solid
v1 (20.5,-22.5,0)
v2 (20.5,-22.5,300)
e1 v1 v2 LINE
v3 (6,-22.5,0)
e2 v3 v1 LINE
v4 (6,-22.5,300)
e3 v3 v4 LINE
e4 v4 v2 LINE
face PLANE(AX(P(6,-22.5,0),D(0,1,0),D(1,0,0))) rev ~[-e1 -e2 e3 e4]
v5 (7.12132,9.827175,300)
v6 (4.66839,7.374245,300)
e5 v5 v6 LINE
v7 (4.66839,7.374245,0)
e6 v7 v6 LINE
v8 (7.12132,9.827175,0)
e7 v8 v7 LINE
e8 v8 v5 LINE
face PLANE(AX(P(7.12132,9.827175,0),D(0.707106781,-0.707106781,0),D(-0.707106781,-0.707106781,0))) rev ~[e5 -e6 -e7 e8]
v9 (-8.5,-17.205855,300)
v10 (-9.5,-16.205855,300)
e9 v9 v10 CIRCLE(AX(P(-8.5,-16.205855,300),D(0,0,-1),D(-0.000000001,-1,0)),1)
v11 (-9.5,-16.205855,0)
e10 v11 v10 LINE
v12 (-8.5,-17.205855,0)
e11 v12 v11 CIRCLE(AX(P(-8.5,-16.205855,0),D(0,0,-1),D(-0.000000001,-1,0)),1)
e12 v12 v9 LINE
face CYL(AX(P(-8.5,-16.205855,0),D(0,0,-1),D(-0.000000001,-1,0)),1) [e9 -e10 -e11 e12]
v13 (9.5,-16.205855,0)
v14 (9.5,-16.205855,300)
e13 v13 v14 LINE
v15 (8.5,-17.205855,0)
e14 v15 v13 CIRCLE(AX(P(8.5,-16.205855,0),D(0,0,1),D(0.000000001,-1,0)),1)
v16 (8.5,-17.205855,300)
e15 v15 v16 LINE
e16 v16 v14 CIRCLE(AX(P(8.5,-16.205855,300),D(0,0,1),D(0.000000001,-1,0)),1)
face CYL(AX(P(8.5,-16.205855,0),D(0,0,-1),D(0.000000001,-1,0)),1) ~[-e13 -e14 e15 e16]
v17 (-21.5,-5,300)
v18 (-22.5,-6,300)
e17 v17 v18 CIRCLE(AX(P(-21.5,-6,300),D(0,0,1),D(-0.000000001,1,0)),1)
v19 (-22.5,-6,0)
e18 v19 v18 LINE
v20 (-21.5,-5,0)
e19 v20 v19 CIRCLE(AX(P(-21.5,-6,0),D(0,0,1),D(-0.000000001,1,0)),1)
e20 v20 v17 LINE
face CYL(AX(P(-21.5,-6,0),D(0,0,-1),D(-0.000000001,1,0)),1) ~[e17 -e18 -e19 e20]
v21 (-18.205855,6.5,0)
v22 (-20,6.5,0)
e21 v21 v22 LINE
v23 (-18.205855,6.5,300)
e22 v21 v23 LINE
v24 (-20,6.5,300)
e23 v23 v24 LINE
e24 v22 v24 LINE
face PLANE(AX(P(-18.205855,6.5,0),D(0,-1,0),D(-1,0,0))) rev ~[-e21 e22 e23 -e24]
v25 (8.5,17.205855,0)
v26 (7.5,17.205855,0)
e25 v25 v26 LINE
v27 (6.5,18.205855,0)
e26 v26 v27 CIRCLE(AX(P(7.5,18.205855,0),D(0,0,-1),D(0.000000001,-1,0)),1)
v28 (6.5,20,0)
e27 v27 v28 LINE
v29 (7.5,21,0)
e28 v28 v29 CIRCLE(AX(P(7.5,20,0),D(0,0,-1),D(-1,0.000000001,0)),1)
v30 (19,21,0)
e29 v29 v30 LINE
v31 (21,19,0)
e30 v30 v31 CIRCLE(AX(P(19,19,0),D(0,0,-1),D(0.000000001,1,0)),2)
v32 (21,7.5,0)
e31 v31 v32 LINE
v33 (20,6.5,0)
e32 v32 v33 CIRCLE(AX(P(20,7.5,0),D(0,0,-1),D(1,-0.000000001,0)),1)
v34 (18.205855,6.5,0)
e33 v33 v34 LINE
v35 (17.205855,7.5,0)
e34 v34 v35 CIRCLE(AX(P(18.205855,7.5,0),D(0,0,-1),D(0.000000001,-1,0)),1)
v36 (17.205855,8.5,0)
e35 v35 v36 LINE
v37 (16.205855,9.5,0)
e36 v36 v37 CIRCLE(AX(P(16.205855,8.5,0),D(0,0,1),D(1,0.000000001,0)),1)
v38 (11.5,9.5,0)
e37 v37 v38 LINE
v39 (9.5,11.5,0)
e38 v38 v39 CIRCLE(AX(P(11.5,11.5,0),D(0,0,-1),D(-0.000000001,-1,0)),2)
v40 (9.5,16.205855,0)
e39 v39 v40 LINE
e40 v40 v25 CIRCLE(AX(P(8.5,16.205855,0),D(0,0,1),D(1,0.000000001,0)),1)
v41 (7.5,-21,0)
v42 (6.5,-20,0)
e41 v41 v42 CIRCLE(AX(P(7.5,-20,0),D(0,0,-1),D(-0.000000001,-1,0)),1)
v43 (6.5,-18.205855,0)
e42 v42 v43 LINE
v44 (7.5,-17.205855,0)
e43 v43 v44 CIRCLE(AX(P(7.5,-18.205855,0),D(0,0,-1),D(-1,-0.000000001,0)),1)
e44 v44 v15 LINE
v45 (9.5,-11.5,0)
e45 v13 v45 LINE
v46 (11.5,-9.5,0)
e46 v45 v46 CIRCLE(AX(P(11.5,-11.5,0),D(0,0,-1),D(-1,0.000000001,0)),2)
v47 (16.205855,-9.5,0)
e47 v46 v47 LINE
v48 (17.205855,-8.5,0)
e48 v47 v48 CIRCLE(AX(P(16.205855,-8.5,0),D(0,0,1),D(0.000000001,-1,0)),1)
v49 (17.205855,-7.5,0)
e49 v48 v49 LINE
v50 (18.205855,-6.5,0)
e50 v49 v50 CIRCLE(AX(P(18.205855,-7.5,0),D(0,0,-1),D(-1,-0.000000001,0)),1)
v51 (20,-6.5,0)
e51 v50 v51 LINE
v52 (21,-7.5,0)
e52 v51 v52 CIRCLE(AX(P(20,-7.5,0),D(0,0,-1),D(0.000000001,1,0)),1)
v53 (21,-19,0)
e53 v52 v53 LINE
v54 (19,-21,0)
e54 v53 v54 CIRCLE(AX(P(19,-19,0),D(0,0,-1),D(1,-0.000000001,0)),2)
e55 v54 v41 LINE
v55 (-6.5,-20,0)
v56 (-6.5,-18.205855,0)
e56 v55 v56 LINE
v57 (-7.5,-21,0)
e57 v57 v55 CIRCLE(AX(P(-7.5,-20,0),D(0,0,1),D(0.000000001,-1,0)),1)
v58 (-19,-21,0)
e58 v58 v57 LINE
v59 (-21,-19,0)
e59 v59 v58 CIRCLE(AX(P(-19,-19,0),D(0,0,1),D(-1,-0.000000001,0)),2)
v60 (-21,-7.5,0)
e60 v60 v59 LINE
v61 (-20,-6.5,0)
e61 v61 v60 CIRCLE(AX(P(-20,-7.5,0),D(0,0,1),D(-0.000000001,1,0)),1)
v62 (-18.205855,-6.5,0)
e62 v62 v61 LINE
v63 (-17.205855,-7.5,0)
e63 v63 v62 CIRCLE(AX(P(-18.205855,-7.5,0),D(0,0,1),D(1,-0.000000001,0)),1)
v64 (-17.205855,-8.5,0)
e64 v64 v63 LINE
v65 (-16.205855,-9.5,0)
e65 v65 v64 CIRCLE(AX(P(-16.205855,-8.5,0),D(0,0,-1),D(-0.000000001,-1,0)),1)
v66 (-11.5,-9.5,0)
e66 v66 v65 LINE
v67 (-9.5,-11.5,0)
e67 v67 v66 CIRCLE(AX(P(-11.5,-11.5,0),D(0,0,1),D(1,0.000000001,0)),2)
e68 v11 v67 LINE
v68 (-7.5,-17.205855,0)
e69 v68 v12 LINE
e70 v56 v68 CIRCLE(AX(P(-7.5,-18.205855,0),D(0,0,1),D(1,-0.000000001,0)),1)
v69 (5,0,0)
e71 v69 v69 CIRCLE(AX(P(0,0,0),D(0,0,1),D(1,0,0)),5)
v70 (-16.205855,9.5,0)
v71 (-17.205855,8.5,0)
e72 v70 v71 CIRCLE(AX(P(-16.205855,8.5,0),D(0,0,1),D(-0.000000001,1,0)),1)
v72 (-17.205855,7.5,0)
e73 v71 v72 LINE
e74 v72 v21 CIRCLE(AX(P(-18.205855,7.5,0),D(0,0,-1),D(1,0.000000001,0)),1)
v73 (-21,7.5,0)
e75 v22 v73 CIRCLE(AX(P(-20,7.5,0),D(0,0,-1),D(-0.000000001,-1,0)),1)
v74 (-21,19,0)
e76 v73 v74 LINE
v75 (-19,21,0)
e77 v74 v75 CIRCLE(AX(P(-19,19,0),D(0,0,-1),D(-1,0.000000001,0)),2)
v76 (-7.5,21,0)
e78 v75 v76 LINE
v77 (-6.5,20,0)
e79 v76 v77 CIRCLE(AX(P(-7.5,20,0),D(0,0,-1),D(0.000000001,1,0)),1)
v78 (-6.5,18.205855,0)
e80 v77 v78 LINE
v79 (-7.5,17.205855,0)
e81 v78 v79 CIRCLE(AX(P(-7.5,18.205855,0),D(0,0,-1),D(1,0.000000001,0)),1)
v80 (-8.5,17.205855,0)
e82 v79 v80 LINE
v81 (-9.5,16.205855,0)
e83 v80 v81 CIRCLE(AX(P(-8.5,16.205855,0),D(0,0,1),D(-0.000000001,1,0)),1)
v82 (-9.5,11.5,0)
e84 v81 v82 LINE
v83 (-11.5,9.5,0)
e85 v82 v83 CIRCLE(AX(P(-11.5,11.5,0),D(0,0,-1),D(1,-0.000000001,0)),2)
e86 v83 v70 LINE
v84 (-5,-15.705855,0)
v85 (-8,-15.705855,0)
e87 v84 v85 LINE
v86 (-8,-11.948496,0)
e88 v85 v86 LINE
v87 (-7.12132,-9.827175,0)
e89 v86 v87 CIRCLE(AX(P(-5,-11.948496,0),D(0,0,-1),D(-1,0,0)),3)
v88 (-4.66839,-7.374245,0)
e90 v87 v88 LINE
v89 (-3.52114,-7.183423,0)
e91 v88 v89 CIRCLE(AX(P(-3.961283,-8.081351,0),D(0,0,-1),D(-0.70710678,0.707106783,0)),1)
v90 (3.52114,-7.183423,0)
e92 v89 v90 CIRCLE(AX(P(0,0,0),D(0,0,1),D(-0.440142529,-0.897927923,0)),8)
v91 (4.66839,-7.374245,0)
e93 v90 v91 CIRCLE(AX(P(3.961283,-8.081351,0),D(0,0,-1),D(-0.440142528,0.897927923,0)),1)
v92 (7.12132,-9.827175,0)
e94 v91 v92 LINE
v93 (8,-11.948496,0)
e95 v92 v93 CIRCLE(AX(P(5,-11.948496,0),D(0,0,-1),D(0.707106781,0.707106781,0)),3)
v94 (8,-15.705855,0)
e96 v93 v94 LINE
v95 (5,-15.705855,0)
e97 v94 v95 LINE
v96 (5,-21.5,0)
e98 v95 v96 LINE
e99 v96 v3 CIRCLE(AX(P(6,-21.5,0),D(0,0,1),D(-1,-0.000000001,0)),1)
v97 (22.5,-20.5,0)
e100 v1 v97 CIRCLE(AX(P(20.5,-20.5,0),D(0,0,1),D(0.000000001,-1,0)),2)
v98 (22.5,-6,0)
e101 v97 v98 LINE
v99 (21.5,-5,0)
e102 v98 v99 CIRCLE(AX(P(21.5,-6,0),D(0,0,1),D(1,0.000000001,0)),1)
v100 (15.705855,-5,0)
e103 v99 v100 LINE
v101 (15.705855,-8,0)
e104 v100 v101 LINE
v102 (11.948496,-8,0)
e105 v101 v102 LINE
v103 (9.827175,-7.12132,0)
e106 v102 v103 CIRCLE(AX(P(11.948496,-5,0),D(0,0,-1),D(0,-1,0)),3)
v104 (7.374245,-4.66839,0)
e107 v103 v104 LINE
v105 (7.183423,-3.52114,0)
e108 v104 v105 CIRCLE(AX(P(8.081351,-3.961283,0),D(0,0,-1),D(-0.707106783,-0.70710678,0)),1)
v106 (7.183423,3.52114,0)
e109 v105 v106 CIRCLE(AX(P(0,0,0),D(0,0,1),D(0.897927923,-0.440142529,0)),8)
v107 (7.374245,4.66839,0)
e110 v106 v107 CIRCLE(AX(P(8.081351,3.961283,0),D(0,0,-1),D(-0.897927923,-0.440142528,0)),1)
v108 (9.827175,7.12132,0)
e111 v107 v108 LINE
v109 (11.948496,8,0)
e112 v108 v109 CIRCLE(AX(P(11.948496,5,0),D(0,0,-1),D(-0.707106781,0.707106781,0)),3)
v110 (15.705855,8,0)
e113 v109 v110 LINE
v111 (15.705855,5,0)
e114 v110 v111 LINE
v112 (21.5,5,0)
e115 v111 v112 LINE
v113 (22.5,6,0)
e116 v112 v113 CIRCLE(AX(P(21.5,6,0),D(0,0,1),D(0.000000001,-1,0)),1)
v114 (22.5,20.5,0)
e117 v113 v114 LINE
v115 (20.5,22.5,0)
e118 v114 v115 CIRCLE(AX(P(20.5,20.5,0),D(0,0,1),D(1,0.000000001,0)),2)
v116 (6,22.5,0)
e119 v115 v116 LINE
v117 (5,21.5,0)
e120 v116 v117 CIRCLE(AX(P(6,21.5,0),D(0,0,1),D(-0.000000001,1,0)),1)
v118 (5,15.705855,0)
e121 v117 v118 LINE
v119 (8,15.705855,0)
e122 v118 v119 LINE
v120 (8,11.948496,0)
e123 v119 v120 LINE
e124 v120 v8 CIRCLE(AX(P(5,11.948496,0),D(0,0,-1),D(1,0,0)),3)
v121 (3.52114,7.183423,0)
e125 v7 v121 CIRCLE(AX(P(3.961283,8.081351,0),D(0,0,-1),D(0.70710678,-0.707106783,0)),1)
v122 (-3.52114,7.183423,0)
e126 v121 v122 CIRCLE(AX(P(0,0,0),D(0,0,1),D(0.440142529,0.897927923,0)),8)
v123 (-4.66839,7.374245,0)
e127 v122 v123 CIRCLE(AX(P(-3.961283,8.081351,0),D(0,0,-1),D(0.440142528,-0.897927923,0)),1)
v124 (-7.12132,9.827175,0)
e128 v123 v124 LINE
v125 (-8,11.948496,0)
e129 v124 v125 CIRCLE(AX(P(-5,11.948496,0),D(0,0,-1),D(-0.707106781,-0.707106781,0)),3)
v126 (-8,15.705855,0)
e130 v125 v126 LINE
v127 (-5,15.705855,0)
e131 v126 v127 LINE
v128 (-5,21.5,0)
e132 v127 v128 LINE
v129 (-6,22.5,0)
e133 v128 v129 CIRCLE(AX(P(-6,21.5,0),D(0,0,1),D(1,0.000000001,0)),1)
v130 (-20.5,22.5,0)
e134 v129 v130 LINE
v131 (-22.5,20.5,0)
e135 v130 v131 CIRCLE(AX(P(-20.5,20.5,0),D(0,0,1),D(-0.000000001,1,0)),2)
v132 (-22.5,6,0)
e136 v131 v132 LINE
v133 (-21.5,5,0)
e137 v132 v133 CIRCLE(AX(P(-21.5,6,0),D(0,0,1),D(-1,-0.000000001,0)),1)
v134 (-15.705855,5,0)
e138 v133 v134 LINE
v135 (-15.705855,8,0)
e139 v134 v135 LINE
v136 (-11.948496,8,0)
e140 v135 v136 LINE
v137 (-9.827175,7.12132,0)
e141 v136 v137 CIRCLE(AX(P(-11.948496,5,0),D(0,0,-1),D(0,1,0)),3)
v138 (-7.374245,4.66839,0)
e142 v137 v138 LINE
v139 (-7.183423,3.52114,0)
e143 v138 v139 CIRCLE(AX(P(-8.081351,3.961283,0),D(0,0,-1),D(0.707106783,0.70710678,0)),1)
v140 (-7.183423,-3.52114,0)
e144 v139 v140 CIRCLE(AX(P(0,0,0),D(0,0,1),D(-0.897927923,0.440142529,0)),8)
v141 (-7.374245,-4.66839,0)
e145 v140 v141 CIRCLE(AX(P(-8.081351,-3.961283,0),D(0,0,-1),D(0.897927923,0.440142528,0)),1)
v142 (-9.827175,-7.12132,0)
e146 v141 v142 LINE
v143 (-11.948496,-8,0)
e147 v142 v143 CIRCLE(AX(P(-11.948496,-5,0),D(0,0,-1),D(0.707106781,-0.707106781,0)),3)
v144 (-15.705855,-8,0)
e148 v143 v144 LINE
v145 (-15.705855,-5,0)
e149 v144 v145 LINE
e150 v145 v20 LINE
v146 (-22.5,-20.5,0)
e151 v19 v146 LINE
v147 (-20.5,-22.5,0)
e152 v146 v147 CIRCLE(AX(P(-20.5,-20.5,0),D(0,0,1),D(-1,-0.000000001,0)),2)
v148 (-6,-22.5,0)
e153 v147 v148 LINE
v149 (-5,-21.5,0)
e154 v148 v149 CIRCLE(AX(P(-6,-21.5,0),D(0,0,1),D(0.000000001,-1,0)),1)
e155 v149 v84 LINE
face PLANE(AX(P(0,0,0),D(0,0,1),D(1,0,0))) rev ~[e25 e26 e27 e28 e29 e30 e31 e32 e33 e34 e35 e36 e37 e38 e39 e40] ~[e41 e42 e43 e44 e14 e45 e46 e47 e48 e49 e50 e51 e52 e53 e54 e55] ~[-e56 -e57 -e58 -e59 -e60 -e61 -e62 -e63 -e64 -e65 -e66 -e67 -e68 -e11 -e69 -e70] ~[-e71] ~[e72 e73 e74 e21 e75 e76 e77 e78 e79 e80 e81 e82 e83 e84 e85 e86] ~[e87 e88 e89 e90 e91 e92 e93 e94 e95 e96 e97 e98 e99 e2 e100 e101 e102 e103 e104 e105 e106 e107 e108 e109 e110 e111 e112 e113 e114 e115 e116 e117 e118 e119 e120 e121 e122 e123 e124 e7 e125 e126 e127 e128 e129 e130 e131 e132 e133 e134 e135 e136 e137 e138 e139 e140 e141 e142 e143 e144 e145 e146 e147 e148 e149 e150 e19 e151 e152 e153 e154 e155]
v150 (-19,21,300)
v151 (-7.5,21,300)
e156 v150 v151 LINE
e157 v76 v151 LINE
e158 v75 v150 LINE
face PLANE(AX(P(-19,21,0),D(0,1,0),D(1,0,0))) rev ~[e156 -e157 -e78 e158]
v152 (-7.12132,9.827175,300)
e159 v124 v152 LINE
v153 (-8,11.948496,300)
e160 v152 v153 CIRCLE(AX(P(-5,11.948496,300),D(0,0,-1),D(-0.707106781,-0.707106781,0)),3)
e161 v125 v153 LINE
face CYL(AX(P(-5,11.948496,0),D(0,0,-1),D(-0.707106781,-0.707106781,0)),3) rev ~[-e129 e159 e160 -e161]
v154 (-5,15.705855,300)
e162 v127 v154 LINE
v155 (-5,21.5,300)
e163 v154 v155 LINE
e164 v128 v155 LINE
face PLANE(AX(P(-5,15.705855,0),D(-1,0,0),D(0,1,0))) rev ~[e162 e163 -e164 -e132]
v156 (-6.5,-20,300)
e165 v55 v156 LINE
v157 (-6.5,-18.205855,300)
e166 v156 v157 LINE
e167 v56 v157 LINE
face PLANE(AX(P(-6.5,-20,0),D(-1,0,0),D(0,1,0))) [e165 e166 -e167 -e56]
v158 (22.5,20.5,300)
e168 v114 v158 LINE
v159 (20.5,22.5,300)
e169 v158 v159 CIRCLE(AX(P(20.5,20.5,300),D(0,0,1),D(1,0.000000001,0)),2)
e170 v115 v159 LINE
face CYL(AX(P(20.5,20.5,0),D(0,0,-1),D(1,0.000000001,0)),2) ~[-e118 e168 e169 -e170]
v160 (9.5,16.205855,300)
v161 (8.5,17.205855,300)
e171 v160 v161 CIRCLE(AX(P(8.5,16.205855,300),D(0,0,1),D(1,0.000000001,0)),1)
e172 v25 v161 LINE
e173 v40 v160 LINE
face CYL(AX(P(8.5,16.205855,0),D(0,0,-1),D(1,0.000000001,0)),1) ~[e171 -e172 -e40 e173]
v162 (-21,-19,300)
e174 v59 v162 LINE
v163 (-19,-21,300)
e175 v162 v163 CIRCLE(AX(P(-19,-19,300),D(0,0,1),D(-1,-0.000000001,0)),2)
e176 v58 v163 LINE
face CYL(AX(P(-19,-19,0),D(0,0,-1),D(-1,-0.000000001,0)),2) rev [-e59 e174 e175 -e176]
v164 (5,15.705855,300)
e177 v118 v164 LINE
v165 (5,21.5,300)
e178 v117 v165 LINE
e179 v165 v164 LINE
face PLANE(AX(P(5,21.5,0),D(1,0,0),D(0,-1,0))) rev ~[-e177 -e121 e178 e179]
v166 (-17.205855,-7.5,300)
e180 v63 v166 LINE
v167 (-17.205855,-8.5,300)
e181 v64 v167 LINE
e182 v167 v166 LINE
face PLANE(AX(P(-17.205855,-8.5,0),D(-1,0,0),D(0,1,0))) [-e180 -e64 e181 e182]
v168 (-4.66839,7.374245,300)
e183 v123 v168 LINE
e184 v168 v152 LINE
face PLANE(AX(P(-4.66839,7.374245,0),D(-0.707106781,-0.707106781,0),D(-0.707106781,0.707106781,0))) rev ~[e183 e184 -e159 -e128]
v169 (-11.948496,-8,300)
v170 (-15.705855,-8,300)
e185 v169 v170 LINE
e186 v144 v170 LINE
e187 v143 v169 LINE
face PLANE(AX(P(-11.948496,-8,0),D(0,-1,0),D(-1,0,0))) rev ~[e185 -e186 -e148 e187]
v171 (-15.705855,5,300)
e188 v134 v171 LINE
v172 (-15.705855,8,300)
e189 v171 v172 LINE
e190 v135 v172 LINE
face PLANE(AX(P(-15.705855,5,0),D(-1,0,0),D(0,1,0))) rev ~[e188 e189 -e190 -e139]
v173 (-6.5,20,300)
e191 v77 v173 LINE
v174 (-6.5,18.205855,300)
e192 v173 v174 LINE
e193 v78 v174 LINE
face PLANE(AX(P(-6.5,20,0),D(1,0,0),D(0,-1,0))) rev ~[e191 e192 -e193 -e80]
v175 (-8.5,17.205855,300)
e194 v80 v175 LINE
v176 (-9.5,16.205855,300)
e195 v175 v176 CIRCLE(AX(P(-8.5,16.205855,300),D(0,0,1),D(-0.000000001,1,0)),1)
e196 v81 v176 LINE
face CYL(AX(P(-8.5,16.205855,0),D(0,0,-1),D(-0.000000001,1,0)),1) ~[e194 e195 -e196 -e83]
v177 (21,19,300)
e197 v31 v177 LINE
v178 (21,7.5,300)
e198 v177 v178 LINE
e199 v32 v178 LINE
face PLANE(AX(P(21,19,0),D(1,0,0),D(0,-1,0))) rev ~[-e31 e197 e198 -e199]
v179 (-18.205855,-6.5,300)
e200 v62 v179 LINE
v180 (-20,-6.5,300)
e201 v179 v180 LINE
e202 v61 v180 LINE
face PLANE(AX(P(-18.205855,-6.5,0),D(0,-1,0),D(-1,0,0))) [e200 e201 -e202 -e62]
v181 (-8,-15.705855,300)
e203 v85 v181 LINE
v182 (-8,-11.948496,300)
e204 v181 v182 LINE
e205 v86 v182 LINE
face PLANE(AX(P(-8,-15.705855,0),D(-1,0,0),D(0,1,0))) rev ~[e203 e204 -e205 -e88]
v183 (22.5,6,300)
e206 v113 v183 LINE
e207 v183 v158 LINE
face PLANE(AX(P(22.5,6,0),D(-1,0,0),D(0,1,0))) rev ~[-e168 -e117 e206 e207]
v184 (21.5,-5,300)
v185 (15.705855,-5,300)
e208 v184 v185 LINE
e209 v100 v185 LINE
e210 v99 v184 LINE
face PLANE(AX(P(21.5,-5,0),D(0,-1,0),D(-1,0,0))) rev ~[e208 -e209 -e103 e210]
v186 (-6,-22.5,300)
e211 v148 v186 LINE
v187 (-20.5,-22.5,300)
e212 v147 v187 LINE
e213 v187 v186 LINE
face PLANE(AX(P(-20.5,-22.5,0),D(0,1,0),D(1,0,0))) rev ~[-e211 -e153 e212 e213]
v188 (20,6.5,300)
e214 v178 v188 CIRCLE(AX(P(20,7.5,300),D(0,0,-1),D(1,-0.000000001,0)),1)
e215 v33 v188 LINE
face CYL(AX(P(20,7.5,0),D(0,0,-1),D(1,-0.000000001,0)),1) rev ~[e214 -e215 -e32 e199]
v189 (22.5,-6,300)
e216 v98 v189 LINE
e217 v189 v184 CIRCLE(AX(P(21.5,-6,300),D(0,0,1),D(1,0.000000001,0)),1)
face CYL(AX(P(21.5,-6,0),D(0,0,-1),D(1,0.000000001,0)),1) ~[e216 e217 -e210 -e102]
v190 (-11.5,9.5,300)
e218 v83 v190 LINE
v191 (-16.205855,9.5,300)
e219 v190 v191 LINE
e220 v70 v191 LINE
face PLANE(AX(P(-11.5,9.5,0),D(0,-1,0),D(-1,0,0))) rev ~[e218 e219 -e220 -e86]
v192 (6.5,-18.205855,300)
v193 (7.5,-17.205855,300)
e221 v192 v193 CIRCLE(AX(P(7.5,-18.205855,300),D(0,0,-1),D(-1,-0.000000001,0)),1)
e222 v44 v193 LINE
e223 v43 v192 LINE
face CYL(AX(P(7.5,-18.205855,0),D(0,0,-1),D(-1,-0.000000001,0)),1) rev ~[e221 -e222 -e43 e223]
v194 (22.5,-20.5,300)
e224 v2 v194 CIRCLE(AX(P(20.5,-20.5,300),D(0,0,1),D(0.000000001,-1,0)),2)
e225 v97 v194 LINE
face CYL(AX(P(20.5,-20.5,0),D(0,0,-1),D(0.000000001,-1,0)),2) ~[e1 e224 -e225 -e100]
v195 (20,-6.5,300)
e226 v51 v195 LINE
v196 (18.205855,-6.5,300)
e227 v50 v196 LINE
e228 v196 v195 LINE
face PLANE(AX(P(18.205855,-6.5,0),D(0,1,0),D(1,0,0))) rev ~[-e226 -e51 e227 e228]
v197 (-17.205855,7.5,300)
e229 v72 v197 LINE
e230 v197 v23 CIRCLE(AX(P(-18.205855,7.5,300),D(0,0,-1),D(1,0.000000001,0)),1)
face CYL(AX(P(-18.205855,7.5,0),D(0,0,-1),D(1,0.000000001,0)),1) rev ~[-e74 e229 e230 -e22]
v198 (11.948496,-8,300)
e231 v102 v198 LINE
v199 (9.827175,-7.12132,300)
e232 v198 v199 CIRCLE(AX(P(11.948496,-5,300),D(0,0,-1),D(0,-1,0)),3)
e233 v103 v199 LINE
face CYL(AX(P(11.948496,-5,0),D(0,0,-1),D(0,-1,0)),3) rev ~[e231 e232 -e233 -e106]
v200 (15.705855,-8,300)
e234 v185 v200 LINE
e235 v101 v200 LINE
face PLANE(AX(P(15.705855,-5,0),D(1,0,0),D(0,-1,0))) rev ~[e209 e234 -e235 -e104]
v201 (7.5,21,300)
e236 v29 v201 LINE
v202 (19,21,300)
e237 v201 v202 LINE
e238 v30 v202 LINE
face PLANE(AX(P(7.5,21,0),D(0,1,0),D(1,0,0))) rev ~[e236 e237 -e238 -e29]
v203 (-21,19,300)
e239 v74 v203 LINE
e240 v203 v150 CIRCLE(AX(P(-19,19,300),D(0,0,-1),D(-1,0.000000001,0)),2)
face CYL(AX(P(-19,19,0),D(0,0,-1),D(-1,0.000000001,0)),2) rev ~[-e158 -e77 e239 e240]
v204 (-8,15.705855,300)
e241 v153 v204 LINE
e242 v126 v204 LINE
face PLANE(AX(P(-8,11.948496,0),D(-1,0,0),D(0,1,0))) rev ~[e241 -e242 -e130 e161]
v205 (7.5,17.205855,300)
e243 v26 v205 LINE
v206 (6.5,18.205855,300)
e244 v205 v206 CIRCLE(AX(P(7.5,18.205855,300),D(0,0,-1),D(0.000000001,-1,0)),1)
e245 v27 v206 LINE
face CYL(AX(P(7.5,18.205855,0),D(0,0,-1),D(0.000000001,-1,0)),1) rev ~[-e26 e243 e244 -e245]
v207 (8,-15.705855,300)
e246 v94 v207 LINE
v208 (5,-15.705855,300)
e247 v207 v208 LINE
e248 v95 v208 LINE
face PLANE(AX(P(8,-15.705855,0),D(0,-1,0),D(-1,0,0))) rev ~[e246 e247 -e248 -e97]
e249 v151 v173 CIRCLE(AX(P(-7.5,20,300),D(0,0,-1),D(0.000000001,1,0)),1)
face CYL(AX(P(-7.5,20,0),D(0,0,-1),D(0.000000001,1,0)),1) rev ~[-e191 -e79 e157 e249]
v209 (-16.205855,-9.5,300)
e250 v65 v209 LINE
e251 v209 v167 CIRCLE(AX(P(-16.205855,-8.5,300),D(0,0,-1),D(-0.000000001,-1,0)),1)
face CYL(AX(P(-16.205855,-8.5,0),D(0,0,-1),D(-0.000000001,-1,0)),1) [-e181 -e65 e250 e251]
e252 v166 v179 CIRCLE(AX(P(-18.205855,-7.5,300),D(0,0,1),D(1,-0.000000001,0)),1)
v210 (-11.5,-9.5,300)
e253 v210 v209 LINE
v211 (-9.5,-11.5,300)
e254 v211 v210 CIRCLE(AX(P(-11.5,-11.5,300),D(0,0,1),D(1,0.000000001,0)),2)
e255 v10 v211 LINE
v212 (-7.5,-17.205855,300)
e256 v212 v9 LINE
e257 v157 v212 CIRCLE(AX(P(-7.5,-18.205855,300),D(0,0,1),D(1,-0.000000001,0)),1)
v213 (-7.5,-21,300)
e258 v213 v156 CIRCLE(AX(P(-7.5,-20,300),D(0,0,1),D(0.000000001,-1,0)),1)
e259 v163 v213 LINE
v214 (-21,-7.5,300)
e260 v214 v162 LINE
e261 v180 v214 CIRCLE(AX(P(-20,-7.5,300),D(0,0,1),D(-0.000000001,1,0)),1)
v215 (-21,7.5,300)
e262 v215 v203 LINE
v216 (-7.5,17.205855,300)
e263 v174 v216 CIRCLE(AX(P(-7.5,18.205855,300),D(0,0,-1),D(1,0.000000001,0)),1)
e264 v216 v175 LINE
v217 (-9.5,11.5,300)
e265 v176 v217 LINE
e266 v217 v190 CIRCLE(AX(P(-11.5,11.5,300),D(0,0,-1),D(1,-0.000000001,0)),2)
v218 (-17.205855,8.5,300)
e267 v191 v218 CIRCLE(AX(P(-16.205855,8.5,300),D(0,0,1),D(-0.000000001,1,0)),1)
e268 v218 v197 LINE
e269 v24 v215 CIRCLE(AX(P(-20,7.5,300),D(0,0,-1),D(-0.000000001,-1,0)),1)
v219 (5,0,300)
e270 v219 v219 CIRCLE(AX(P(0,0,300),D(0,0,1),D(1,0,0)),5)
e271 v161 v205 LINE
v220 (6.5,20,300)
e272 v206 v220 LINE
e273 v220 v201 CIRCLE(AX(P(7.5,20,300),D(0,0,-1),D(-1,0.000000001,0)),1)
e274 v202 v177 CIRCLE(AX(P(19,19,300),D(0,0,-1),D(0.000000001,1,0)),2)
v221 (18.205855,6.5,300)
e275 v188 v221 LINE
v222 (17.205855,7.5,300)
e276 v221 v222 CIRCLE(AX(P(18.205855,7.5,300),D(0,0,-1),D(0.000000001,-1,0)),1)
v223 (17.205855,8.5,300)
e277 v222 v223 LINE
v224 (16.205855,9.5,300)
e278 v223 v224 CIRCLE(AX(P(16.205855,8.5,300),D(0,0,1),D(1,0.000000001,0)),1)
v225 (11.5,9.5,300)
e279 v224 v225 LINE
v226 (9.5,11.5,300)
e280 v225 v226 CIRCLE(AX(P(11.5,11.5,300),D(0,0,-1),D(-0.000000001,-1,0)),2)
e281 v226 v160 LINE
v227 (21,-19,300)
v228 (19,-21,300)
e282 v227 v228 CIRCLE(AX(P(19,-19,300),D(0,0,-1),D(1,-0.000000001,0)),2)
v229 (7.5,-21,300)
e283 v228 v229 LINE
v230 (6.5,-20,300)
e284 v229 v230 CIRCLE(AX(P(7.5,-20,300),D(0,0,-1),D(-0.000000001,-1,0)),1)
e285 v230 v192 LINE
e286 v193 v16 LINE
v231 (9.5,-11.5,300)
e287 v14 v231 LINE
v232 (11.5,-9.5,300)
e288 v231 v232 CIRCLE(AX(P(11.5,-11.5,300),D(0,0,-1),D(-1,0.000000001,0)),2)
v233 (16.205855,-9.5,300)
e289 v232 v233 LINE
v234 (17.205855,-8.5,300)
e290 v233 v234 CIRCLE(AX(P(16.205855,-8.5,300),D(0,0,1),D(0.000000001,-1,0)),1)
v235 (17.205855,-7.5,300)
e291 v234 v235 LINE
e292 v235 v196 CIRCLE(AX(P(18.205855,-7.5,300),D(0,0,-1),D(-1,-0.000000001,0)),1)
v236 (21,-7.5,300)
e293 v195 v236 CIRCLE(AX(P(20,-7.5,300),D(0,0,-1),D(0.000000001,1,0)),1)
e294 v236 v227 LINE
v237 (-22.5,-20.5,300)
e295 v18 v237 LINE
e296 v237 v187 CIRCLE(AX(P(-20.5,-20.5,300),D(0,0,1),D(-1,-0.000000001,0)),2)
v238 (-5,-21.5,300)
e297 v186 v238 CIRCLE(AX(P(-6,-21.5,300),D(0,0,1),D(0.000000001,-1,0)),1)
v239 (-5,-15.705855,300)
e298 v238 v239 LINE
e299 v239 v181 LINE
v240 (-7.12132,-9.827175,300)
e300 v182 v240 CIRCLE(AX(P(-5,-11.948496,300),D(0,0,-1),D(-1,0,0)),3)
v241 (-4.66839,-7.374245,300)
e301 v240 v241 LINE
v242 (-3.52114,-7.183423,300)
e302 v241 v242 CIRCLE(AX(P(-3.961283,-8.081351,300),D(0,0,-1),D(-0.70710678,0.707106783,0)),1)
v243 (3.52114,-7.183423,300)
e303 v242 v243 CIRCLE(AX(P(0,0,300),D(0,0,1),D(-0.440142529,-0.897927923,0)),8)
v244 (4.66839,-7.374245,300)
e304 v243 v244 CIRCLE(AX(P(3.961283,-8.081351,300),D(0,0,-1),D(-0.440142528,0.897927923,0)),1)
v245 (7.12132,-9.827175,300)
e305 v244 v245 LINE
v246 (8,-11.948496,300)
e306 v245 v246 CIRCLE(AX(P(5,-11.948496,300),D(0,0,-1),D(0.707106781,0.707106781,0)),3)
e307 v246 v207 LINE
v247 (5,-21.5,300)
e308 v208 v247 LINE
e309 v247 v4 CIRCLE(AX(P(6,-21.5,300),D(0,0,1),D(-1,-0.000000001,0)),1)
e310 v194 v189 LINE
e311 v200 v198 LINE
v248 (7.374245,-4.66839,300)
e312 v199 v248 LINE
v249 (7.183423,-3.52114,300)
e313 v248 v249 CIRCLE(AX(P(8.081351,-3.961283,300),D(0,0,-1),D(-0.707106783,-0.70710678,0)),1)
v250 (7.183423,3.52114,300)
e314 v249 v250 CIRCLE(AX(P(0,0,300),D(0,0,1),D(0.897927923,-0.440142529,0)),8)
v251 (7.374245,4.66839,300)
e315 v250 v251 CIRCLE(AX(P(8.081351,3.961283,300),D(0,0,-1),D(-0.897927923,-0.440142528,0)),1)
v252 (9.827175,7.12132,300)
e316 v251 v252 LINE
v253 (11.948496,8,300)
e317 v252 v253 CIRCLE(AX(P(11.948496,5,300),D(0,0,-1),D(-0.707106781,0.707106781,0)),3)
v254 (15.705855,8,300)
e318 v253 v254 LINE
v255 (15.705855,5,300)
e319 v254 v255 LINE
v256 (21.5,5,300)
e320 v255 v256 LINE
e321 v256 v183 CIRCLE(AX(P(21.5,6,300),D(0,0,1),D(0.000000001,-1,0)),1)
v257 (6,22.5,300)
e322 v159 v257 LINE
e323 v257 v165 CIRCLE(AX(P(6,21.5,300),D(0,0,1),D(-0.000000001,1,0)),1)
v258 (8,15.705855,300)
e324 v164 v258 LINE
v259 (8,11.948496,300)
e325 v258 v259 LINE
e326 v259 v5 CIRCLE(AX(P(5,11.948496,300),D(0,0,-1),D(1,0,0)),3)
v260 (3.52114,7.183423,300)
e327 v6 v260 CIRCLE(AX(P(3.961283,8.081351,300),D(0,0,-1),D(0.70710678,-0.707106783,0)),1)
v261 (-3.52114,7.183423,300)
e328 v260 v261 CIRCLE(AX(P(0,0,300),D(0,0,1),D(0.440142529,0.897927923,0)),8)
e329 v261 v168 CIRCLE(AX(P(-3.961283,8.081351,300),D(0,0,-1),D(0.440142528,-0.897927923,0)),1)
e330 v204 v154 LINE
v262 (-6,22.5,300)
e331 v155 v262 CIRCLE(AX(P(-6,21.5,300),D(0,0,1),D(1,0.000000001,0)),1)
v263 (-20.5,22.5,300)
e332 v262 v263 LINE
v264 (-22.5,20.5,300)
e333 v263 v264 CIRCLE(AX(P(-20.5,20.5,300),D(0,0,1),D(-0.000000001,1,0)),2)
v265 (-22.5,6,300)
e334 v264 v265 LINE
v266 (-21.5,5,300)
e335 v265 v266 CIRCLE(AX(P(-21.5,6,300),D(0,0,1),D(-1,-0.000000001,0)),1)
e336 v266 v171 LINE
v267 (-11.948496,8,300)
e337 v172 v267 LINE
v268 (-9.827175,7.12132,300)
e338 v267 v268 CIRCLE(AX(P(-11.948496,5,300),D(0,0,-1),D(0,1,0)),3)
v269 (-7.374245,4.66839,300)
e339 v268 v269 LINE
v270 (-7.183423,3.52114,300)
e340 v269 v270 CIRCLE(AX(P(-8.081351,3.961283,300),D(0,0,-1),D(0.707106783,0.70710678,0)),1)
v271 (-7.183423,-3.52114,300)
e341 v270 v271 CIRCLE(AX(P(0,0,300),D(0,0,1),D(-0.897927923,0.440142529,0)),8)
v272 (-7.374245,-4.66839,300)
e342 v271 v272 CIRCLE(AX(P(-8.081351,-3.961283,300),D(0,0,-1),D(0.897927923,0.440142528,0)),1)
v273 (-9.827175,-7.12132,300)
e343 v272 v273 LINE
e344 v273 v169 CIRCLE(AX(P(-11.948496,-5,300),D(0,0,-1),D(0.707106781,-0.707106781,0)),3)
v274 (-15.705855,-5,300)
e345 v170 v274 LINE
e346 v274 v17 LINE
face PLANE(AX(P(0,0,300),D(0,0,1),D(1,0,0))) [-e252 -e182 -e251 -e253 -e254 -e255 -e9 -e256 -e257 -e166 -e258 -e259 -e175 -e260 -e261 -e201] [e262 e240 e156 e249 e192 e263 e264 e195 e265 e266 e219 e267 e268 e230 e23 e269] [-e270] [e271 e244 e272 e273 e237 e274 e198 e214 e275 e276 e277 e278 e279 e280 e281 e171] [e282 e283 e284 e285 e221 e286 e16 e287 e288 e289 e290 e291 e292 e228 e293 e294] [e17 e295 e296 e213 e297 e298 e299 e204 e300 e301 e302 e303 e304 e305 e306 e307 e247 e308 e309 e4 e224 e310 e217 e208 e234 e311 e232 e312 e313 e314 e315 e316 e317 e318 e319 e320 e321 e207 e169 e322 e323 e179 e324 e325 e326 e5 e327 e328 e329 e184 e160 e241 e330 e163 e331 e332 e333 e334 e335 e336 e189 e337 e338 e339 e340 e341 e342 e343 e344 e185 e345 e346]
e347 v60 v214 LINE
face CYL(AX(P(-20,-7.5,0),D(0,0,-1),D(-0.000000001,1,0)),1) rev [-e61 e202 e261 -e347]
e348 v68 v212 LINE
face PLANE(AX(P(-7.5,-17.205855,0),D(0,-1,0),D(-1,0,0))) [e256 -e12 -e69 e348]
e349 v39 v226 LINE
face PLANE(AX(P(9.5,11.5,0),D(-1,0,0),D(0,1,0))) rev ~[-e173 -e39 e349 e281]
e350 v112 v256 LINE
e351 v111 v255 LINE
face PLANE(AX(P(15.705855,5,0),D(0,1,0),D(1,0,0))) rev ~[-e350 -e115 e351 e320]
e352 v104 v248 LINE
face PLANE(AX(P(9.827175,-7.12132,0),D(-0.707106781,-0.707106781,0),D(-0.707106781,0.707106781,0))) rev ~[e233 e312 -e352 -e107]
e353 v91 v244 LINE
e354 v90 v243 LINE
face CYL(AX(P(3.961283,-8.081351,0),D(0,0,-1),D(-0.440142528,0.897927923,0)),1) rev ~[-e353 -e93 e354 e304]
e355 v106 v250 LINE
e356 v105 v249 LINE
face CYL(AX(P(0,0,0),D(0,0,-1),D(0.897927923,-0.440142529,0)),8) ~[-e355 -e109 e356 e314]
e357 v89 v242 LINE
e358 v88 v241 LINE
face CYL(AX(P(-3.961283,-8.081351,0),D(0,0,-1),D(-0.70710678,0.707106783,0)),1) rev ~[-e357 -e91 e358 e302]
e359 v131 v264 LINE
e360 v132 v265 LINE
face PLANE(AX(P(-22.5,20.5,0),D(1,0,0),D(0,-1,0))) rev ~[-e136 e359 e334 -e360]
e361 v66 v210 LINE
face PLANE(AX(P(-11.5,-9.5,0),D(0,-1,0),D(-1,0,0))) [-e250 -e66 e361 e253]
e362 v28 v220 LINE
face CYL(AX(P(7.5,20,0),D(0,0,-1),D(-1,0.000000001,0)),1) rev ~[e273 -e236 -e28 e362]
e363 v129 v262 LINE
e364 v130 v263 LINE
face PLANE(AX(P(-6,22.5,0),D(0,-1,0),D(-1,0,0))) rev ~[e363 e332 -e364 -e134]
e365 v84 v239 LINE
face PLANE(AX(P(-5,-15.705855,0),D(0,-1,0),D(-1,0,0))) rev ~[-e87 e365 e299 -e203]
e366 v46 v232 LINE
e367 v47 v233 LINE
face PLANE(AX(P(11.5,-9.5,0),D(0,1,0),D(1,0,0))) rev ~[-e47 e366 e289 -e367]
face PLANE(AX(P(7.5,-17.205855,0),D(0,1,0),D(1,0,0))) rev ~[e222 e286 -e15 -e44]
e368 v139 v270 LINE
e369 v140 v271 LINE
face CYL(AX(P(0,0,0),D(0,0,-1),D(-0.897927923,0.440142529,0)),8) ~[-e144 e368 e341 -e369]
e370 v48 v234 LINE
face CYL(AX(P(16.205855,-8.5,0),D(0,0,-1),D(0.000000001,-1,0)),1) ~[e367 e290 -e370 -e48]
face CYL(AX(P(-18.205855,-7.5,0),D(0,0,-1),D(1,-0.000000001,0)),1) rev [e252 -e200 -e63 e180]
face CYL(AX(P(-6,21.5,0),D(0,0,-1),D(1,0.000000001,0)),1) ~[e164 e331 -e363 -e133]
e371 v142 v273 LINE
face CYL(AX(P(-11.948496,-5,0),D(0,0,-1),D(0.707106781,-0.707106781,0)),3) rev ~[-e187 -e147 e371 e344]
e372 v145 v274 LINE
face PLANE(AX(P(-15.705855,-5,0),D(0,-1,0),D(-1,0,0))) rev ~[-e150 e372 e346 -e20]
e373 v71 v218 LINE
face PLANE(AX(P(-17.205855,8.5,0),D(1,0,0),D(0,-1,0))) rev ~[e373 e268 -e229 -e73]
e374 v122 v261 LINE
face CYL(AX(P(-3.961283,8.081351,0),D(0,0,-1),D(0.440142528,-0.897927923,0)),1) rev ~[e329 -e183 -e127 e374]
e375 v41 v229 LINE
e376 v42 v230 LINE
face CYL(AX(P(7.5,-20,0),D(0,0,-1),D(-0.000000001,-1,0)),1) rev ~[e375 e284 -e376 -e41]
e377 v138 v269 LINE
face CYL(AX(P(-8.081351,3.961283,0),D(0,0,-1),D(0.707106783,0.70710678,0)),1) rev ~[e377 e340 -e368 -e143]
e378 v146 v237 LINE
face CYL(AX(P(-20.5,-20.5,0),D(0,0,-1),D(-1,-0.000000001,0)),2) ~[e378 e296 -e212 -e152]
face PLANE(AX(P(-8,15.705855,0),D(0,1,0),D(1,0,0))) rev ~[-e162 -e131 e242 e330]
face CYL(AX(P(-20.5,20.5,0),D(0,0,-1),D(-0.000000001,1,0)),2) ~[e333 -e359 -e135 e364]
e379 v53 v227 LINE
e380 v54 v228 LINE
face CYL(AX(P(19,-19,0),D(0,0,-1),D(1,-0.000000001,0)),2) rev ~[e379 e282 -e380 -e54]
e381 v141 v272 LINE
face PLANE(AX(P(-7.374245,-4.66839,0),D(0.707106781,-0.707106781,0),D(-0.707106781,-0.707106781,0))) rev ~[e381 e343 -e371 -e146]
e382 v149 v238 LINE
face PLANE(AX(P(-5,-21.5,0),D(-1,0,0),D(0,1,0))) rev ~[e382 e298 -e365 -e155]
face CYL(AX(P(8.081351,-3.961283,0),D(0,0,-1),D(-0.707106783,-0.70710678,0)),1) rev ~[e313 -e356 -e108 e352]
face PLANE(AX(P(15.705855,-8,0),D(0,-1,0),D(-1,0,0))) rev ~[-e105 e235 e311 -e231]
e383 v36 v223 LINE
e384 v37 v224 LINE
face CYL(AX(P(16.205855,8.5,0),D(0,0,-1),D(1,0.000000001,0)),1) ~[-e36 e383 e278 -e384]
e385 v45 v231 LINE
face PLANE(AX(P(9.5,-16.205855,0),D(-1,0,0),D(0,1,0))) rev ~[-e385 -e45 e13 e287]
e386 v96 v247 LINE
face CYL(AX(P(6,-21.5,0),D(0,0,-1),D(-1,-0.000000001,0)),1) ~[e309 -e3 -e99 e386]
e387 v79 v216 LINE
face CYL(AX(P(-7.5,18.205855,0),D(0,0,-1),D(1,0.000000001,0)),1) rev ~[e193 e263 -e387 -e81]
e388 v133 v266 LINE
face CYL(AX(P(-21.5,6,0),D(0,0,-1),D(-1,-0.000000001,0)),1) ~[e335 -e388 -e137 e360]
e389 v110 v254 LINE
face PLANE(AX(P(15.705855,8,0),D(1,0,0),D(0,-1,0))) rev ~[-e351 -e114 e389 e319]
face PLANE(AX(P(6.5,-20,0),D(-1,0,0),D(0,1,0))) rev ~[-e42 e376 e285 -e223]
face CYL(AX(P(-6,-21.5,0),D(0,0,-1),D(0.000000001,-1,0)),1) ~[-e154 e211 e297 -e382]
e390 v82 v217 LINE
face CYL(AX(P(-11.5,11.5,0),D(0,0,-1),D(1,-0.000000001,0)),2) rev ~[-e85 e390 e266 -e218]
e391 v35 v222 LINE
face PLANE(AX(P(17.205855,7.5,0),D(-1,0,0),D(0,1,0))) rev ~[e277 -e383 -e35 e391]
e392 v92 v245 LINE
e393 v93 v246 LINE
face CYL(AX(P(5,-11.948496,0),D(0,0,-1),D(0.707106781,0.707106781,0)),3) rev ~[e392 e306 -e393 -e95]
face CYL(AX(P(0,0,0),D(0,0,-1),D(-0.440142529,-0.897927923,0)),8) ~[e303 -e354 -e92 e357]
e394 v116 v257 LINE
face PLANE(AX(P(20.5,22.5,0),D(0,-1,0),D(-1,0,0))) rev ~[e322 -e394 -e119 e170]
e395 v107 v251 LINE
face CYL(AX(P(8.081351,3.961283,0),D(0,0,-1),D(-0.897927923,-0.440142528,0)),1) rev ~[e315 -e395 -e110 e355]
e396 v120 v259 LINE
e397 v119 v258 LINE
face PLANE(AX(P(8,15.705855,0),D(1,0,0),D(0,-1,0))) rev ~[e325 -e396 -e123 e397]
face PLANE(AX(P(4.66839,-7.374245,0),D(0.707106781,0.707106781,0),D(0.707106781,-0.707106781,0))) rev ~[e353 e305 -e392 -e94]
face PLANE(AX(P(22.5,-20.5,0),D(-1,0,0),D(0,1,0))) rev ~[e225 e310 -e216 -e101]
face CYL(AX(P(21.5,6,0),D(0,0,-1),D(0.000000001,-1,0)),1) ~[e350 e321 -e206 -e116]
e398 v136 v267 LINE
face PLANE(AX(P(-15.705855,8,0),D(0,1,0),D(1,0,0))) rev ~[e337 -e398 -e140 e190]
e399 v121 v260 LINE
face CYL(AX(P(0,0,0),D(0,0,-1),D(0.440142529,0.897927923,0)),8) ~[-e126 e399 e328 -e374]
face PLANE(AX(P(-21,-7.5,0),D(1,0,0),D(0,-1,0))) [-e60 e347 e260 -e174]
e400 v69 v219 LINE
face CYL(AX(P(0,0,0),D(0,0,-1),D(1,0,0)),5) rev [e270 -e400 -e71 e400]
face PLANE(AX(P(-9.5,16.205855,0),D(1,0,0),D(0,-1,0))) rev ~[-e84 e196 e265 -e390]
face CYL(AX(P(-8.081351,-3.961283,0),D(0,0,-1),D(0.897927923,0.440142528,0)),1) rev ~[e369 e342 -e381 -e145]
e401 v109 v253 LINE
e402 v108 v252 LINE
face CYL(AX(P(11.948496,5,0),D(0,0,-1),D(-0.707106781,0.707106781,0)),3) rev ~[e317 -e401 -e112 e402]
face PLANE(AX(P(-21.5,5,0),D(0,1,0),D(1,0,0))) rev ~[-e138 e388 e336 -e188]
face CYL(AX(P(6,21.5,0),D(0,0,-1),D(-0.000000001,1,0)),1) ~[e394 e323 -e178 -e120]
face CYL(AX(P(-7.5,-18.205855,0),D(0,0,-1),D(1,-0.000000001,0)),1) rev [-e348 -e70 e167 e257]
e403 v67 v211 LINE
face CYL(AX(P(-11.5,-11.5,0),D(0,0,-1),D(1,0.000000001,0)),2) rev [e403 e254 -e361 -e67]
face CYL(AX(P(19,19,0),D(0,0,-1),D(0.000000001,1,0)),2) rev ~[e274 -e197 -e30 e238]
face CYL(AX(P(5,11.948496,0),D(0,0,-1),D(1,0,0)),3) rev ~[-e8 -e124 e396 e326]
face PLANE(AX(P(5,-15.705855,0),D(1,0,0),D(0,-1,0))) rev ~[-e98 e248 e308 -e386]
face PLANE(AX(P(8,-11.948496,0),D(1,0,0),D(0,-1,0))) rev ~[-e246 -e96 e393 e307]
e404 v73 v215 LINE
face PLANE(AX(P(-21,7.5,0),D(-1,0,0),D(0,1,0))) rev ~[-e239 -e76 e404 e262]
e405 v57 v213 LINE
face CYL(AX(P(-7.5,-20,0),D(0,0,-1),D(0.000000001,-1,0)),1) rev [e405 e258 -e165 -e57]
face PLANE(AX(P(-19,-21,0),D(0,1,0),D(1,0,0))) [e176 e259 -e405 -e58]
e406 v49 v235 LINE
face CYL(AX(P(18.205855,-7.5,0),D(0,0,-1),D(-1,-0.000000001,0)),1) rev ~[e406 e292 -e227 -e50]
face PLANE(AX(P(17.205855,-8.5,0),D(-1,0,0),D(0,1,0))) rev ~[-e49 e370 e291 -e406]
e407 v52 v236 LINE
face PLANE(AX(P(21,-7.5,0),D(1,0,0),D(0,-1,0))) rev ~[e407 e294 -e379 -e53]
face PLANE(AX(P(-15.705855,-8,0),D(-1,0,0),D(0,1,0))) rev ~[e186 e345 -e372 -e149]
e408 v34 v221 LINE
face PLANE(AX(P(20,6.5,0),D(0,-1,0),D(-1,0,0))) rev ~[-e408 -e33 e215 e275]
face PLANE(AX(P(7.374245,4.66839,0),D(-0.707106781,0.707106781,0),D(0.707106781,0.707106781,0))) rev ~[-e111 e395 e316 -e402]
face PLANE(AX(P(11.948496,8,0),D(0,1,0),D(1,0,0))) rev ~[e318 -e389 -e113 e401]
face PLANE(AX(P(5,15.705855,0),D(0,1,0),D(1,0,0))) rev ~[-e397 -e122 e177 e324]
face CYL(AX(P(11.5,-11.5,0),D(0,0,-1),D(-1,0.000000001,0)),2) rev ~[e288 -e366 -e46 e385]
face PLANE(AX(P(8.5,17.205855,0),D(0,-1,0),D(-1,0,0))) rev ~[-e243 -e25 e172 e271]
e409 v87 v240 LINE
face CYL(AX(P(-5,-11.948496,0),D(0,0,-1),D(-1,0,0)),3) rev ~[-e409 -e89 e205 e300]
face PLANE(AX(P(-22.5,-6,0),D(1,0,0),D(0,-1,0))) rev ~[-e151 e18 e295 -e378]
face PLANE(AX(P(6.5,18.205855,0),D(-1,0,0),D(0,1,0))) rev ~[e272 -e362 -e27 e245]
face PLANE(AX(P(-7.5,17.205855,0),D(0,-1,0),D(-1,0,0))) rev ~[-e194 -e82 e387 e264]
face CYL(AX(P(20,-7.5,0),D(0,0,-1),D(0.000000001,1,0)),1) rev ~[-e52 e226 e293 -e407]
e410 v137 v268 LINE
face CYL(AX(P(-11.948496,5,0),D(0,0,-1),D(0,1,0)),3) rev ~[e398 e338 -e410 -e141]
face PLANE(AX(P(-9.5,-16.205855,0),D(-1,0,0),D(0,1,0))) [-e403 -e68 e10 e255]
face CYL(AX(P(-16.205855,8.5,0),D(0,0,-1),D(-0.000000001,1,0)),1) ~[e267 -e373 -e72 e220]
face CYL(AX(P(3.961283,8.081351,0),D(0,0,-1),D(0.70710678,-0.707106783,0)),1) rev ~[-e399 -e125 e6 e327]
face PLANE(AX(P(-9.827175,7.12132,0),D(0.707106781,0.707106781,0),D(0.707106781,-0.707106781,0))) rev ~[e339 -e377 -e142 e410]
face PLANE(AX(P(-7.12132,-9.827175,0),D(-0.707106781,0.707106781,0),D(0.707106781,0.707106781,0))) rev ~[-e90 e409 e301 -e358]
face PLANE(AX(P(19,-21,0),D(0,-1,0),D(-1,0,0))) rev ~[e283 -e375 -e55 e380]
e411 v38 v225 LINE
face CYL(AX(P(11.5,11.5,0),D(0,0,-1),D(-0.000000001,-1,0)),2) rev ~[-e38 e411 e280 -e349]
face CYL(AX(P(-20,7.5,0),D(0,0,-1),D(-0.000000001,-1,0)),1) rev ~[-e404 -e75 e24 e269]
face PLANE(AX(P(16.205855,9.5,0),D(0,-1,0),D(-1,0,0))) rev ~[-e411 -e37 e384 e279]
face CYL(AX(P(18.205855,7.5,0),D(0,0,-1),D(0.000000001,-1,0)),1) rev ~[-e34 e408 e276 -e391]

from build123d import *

# Parameters (mm, degrees)
SKETCH1_R           = 5
BOSS_EXTRUDE1_DEPTH = 300


with BuildPart() as part:
    # Sketch1 → Boss-Extrude1 (new body)
    with BuildSketch(Plane.XY):
        with BuildLine():
            Line((-5, -15.705854984), (-8, -15.705854984))
            Line((-8, -15.705854984), (-8, -11.948495671))
            ThreePointArc((-8, -11.948495671), (-7.771638598, -10.800445374), (-7.121320344, -9.827175327))
            Line((-7.121320344, -9.827175327), (-4.66838954, -7.374244523))
            ThreePointArc((-4.66838954, -7.374244523), (-4.125357909, -7.094903463), (-3.52114023, -7.183423382))
            ThreePointArc((-3.52114023, -7.183423382), (0, -8), (3.52114023, -7.183423382))
            ThreePointArc((3.52114023, -7.183423382), (4.125357909, -7.094903463), (4.66838954, -7.374244523))
            Line((4.66838954, -7.374244523), (7.121320344, -9.827175327))
            ThreePointArc((7.121320344, -9.827175327), (7.771638598, -10.800445374), (8, -11.948495671))
            Line((8, -11.948495671), (8, -15.705854984))
            Line((8, -15.705854984), (5, -15.705854984))
            Line((5, -15.705854984), (5, -21.5))
            ThreePointArc((5, -21.5), (5.292893219, -22.207106781), (6, -22.5))
            Line((6, -22.5), (20.5, -22.5))
            ThreePointArc((20.5, -22.5), (21.914213562, -21.914213562), (22.5, -20.5))
            Line((22.5, -20.5), (22.5, -6))
            ThreePointArc((22.5, -6), (22.207106781, -5.292893219), (21.5, -5))
            Line((21.5, -5), (15.705854984, -5))
            Line((15.705854984, -5), (15.705854984, -8))
            Line((15.705854984, -8), (11.948495671, -8))
            ThreePointArc((11.948495671, -8), (10.800445374, -7.771638598), (9.827175327, -7.121320344))
            Line((9.827175327, -7.121320344), (7.374244523, -4.66838954))
            ThreePointArc((7.374244523, -4.66838954), (7.094903463, -4.125357909), (7.183423382, -3.52114023))
            ThreePointArc((7.183423382, -3.52114023), (8, 0), (7.183423382, 3.52114023))
            ThreePointArc((7.183423382, 3.52114023), (7.094903463, 4.125357909), (7.374244523, 4.66838954))
            Line((7.374244523, 4.66838954), (9.827175327, 7.121320344))
            ThreePointArc((9.827175327, 7.121320344), (10.800445374, 7.771638598), (11.948495671, 8))
            Line((11.948495671, 8), (15.705854984, 8))
            Line((15.705854984, 8), (15.705854984, 5))
            Line((15.705854984, 5), (21.5, 5))
            ThreePointArc((21.5, 5), (22.207106781, 5.292893219), (22.5, 6))
            Line((22.5, 6), (22.5, 20.5))
            ThreePointArc((22.5, 20.5), (21.914213562, 21.914213562), (20.5, 22.5))
            Line((20.5, 22.5), (6, 22.5))
            ThreePointArc((6, 22.5), (5.292893219, 22.207106781), (5, 21.5))
            Line((5, 21.5), (5, 15.705854984))
            Line((5, 15.705854984), (8, 15.705854984))
            Line((8, 15.705854984), (8, 11.948495671))
            ThreePointArc((8, 11.948495671), (7.771638598, 10.800445374), (7.121320344, 9.827175327))
            Line((7.121320344, 9.827175327), (4.66838954, 7.374244523))
            ThreePointArc((4.66838954, 7.374244523), (4.125357909, 7.094903463), (3.52114023, 7.183423382))
            ThreePointArc((3.52114023, 7.183423382), (0, 8), (-3.52114023, 7.183423382))
            ThreePointArc((-3.52114023, 7.183423382), (-4.125357909, 7.094903463), (-4.66838954, 7.374244523))
            Line((-4.66838954, 7.374244523), (-7.121320344, 9.827175327))
            ThreePointArc((-7.121320344, 9.827175327), (-7.771638598, 10.800445374), (-8, 11.948495671))
            Line((-8, 11.948495671), (-8, 15.705854984))
            Line((-8, 15.705854984), (-5, 15.705854984))
            Line((-5, 15.705854984), (-5, 21.5))
            ThreePointArc((-5, 21.5), (-5.292893219, 22.207106781), (-6, 22.5))
            Line((-6, 22.5), (-20.5, 22.5))
            ThreePointArc((-20.5, 22.5), (-21.914213562, 21.914213562), (-22.5, 20.5))
            Line((-22.5, 20.5), (-22.5, 6))
            ThreePointArc((-22.5, 6), (-22.207106781, 5.292893219), (-21.5, 5))
            Line((-21.5, 5), (-15.705854984, 5))
            Line((-15.705854984, 5), (-15.705854984, 8))
            Line((-15.705854984, 8), (-11.948495671, 8))
            ThreePointArc((-11.948495671, 8), (-10.800445374, 7.771638598), (-9.827175327, 7.121320344))
            Line((-9.827175327, 7.121320344), (-7.374244523, 4.66838954))
            ThreePointArc((-7.374244523, 4.66838954), (-7.094903463, 4.125357909), (-7.183423382, 3.52114023))
            ThreePointArc((-7.183423382, 3.52114023), (-8, 0), (-7.183423382, -3.52114023))
            ThreePointArc((-7.183423382, -3.52114023), (-7.094903463, -4.125357909), (-7.374244523, -4.66838954))
            Line((-7.374244523, -4.66838954), (-9.827175327, -7.121320344))
            ThreePointArc((-9.827175327, -7.121320344), (-10.800445374, -7.771638598), (-11.948495671, -8))
            Line((-11.948495671, -8), (-15.705854984, -8))
            Line((-15.705854984, -8), (-15.705854984, -5))
            Line((-15.705854984, -5), (-21.5, -5))
            ThreePointArc((-21.5, -5), (-22.207106781, -5.292893219), (-22.5, -6))
            Line((-22.5, -6), (-22.5, -20.5))
            ThreePointArc((-22.5, -20.5), (-21.914213562, -21.914213562), (-20.5, -22.5))
            Line((-20.5, -22.5), (-6, -22.5))
            ThreePointArc((-6, -22.5), (-5.292893219, -22.207106781), (-5, -21.5))
            Line((-5, -21.5), (-5, -15.705854984))
        make_face()
        Circle(SKETCH1_R, mode=Mode.SUBTRACT)
        with BuildLine():
            Line((-19, -21), (-7.5, -21))
            ThreePointArc((-7.5, -21), (-6.792893219, -20.707106781), (-6.5, -20))
            Line((-6.5, -20), (-6.5, -18.205854984))
            ThreePointArc((-6.5, -18.205854984), (-6.792893219, -17.498748202), (-7.5, -17.205854984))
            Line((-7.5, -17.205854984), (-8.5, -17.205854984))
            ThreePointArc((-8.5, -17.205854984), (-9.207106781, -16.912961765), (-9.5, -16.205854984))
            Line((-9.5, -16.205854984), (-9.5, -11.5))
            ThreePointArc((-9.5, -11.5), (-10.085786438, -10.085786438), (-11.5, -9.5))
            Line((-11.5, -9.5), (-16.205854984, -9.5))
            ThreePointArc((-16.205854984, -9.5), (-16.912961765, -9.207106781), (-17.205854984, -8.5))
            Line((-17.205854984, -8.5), (-17.205854984, -7.5))
            ThreePointArc((-17.205854984, -7.5), (-17.498748202, -6.792893219), (-18.205854984, -6.5))
            Line((-18.205854984, -6.5), (-20, -6.5))
            ThreePointArc((-20, -6.5), (-20.707106781, -6.792893219), (-21, -7.5))
            Line((-21, -7.5), (-21, -19))
            ThreePointArc((-21, -19), (-20.414213562, -20.414213562), (-19, -21))
        make_face(mode=Mode.SUBTRACT)
        with BuildLine():
            Line((-9.5, 16.205854984), (-9.5, 11.5))
            ThreePointArc((-9.5, 11.5), (-10.085786438, 10.085786438), (-11.5, 9.5))
            Line((-11.5, 9.5), (-16.205854984, 9.5))
            ThreePointArc((-16.205854984, 9.5), (-16.912961765, 9.207106781), (-17.205854984, 8.5))
            Line((-17.205854984, 8.5), (-17.205854984, 7.5))
            ThreePointArc((-17.205854984, 7.5), (-17.498748202, 6.792893219), (-18.205854984, 6.5))
            Line((-18.205854984, 6.5), (-20, 6.5))
            ThreePointArc((-20, 6.5), (-20.707106781, 6.792893219), (-21, 7.5))
            Line((-21, 7.5), (-21, 19))
            ThreePointArc((-21, 19), (-20.414213562, 20.414213562), (-19, 21))
            Line((-19, 21), (-7.5, 21))
            ThreePointArc((-7.5, 21), (-6.792893219, 20.707106781), (-6.5, 20))
            Line((-6.5, 20), (-6.5, 18.205854984))
            ThreePointArc((-6.5, 18.205854984), (-6.792893219, 17.498748202), (-7.5, 17.205854984))
            Line((-7.5, 17.205854984), (-8.5, 17.205854984))
            ThreePointArc((-8.5, 17.205854984), (-9.207106781, 16.912961765), (-9.5, 16.205854984))
        make_face(mode=Mode.SUBTRACT)
        with BuildLine():
            Line((16.205854984, 9.5), (11.5, 9.5))
            ThreePointArc((11.5, 9.5), (10.085786438, 10.085786438), (9.5, 11.5))
            Line((9.5, 11.5), (9.5, 16.205854984))
            ThreePointArc((9.5, 16.205854984), (9.207106781, 16.912961765), (8.5, 17.205854984))
            Line((8.5, 17.205854984), (7.5, 17.205854984))
            ThreePointArc((7.5, 17.205854984), (6.792893219, 17.498748202), (6.5, 18.205854984))
            Line((6.5, 18.205854984), (6.5, 20))
            ThreePointArc((6.5, 20), (6.792893219, 20.707106781), (7.5, 21))
            Line((7.5, 21), (19, 21))
            ThreePointArc((19, 21), (20.414213562, 20.414213562), (21, 19))
            Line((21, 19), (21, 7.5))
            ThreePointArc((21, 7.5), (20.707106781, 6.792893219), (20, 6.5))
            Line((20, 6.5), (18.205854984, 6.5))
            ThreePointArc((18.205854984, 6.5), (17.498748202, 6.792893219), (17.205854984, 7.5))
            Line((17.205854984, 7.5), (17.205854984, 8.5))
            ThreePointArc((17.205854984, 8.5), (16.912961765, 9.207106781), (16.205854984, 9.5))
        make_face(mode=Mode.SUBTRACT)
        with BuildLine():
            Line((9.5, -16.205854984), (9.5, -11.5))
            ThreePointArc((9.5, -11.5), (10.085786438, -10.085786438), (11.5, -9.5))
            Line((11.5, -9.5), (16.205854984, -9.5))
            ThreePointArc((16.205854984, -9.5), (16.912961765, -9.207106781), (17.205854984, -8.5))
            Line((17.205854984, -8.5), (17.205854984, -7.5))
            ThreePointArc((17.205854984, -7.5), (17.498748202, -6.792893219), (18.205854984, -6.5))
            Line((18.205854984, -6.5), (20, -6.5))
            ThreePointArc((20, -6.5), (20.707106781, -6.792893219), (21, -7.5))
            Line((21, -7.5), (21, -19))
            ThreePointArc((21, -19), (20.414213562, -20.414213562), (19, -21))
            Line((19, -21), (7.5, -21))
            ThreePointArc((7.5, -21), (6.792893219, -20.707106781), (6.5, -20))
            Line((6.5, -20), (6.5, -18.205854984))
            ThreePointArc((6.5, -18.205854984), (6.792893219, -17.498748202), (7.5, -17.205854984))
            Line((7.5, -17.205854984), (8.5, -17.205854984))
            ThreePointArc((8.5, -17.205854984), (9.207106781, -16.912961765), (9.5, -16.205854984))
        make_face(mode=Mode.SUBTRACT)
    extrude(amount=BOSS_EXTRUDE1_DEPTH)


solid = part.part
